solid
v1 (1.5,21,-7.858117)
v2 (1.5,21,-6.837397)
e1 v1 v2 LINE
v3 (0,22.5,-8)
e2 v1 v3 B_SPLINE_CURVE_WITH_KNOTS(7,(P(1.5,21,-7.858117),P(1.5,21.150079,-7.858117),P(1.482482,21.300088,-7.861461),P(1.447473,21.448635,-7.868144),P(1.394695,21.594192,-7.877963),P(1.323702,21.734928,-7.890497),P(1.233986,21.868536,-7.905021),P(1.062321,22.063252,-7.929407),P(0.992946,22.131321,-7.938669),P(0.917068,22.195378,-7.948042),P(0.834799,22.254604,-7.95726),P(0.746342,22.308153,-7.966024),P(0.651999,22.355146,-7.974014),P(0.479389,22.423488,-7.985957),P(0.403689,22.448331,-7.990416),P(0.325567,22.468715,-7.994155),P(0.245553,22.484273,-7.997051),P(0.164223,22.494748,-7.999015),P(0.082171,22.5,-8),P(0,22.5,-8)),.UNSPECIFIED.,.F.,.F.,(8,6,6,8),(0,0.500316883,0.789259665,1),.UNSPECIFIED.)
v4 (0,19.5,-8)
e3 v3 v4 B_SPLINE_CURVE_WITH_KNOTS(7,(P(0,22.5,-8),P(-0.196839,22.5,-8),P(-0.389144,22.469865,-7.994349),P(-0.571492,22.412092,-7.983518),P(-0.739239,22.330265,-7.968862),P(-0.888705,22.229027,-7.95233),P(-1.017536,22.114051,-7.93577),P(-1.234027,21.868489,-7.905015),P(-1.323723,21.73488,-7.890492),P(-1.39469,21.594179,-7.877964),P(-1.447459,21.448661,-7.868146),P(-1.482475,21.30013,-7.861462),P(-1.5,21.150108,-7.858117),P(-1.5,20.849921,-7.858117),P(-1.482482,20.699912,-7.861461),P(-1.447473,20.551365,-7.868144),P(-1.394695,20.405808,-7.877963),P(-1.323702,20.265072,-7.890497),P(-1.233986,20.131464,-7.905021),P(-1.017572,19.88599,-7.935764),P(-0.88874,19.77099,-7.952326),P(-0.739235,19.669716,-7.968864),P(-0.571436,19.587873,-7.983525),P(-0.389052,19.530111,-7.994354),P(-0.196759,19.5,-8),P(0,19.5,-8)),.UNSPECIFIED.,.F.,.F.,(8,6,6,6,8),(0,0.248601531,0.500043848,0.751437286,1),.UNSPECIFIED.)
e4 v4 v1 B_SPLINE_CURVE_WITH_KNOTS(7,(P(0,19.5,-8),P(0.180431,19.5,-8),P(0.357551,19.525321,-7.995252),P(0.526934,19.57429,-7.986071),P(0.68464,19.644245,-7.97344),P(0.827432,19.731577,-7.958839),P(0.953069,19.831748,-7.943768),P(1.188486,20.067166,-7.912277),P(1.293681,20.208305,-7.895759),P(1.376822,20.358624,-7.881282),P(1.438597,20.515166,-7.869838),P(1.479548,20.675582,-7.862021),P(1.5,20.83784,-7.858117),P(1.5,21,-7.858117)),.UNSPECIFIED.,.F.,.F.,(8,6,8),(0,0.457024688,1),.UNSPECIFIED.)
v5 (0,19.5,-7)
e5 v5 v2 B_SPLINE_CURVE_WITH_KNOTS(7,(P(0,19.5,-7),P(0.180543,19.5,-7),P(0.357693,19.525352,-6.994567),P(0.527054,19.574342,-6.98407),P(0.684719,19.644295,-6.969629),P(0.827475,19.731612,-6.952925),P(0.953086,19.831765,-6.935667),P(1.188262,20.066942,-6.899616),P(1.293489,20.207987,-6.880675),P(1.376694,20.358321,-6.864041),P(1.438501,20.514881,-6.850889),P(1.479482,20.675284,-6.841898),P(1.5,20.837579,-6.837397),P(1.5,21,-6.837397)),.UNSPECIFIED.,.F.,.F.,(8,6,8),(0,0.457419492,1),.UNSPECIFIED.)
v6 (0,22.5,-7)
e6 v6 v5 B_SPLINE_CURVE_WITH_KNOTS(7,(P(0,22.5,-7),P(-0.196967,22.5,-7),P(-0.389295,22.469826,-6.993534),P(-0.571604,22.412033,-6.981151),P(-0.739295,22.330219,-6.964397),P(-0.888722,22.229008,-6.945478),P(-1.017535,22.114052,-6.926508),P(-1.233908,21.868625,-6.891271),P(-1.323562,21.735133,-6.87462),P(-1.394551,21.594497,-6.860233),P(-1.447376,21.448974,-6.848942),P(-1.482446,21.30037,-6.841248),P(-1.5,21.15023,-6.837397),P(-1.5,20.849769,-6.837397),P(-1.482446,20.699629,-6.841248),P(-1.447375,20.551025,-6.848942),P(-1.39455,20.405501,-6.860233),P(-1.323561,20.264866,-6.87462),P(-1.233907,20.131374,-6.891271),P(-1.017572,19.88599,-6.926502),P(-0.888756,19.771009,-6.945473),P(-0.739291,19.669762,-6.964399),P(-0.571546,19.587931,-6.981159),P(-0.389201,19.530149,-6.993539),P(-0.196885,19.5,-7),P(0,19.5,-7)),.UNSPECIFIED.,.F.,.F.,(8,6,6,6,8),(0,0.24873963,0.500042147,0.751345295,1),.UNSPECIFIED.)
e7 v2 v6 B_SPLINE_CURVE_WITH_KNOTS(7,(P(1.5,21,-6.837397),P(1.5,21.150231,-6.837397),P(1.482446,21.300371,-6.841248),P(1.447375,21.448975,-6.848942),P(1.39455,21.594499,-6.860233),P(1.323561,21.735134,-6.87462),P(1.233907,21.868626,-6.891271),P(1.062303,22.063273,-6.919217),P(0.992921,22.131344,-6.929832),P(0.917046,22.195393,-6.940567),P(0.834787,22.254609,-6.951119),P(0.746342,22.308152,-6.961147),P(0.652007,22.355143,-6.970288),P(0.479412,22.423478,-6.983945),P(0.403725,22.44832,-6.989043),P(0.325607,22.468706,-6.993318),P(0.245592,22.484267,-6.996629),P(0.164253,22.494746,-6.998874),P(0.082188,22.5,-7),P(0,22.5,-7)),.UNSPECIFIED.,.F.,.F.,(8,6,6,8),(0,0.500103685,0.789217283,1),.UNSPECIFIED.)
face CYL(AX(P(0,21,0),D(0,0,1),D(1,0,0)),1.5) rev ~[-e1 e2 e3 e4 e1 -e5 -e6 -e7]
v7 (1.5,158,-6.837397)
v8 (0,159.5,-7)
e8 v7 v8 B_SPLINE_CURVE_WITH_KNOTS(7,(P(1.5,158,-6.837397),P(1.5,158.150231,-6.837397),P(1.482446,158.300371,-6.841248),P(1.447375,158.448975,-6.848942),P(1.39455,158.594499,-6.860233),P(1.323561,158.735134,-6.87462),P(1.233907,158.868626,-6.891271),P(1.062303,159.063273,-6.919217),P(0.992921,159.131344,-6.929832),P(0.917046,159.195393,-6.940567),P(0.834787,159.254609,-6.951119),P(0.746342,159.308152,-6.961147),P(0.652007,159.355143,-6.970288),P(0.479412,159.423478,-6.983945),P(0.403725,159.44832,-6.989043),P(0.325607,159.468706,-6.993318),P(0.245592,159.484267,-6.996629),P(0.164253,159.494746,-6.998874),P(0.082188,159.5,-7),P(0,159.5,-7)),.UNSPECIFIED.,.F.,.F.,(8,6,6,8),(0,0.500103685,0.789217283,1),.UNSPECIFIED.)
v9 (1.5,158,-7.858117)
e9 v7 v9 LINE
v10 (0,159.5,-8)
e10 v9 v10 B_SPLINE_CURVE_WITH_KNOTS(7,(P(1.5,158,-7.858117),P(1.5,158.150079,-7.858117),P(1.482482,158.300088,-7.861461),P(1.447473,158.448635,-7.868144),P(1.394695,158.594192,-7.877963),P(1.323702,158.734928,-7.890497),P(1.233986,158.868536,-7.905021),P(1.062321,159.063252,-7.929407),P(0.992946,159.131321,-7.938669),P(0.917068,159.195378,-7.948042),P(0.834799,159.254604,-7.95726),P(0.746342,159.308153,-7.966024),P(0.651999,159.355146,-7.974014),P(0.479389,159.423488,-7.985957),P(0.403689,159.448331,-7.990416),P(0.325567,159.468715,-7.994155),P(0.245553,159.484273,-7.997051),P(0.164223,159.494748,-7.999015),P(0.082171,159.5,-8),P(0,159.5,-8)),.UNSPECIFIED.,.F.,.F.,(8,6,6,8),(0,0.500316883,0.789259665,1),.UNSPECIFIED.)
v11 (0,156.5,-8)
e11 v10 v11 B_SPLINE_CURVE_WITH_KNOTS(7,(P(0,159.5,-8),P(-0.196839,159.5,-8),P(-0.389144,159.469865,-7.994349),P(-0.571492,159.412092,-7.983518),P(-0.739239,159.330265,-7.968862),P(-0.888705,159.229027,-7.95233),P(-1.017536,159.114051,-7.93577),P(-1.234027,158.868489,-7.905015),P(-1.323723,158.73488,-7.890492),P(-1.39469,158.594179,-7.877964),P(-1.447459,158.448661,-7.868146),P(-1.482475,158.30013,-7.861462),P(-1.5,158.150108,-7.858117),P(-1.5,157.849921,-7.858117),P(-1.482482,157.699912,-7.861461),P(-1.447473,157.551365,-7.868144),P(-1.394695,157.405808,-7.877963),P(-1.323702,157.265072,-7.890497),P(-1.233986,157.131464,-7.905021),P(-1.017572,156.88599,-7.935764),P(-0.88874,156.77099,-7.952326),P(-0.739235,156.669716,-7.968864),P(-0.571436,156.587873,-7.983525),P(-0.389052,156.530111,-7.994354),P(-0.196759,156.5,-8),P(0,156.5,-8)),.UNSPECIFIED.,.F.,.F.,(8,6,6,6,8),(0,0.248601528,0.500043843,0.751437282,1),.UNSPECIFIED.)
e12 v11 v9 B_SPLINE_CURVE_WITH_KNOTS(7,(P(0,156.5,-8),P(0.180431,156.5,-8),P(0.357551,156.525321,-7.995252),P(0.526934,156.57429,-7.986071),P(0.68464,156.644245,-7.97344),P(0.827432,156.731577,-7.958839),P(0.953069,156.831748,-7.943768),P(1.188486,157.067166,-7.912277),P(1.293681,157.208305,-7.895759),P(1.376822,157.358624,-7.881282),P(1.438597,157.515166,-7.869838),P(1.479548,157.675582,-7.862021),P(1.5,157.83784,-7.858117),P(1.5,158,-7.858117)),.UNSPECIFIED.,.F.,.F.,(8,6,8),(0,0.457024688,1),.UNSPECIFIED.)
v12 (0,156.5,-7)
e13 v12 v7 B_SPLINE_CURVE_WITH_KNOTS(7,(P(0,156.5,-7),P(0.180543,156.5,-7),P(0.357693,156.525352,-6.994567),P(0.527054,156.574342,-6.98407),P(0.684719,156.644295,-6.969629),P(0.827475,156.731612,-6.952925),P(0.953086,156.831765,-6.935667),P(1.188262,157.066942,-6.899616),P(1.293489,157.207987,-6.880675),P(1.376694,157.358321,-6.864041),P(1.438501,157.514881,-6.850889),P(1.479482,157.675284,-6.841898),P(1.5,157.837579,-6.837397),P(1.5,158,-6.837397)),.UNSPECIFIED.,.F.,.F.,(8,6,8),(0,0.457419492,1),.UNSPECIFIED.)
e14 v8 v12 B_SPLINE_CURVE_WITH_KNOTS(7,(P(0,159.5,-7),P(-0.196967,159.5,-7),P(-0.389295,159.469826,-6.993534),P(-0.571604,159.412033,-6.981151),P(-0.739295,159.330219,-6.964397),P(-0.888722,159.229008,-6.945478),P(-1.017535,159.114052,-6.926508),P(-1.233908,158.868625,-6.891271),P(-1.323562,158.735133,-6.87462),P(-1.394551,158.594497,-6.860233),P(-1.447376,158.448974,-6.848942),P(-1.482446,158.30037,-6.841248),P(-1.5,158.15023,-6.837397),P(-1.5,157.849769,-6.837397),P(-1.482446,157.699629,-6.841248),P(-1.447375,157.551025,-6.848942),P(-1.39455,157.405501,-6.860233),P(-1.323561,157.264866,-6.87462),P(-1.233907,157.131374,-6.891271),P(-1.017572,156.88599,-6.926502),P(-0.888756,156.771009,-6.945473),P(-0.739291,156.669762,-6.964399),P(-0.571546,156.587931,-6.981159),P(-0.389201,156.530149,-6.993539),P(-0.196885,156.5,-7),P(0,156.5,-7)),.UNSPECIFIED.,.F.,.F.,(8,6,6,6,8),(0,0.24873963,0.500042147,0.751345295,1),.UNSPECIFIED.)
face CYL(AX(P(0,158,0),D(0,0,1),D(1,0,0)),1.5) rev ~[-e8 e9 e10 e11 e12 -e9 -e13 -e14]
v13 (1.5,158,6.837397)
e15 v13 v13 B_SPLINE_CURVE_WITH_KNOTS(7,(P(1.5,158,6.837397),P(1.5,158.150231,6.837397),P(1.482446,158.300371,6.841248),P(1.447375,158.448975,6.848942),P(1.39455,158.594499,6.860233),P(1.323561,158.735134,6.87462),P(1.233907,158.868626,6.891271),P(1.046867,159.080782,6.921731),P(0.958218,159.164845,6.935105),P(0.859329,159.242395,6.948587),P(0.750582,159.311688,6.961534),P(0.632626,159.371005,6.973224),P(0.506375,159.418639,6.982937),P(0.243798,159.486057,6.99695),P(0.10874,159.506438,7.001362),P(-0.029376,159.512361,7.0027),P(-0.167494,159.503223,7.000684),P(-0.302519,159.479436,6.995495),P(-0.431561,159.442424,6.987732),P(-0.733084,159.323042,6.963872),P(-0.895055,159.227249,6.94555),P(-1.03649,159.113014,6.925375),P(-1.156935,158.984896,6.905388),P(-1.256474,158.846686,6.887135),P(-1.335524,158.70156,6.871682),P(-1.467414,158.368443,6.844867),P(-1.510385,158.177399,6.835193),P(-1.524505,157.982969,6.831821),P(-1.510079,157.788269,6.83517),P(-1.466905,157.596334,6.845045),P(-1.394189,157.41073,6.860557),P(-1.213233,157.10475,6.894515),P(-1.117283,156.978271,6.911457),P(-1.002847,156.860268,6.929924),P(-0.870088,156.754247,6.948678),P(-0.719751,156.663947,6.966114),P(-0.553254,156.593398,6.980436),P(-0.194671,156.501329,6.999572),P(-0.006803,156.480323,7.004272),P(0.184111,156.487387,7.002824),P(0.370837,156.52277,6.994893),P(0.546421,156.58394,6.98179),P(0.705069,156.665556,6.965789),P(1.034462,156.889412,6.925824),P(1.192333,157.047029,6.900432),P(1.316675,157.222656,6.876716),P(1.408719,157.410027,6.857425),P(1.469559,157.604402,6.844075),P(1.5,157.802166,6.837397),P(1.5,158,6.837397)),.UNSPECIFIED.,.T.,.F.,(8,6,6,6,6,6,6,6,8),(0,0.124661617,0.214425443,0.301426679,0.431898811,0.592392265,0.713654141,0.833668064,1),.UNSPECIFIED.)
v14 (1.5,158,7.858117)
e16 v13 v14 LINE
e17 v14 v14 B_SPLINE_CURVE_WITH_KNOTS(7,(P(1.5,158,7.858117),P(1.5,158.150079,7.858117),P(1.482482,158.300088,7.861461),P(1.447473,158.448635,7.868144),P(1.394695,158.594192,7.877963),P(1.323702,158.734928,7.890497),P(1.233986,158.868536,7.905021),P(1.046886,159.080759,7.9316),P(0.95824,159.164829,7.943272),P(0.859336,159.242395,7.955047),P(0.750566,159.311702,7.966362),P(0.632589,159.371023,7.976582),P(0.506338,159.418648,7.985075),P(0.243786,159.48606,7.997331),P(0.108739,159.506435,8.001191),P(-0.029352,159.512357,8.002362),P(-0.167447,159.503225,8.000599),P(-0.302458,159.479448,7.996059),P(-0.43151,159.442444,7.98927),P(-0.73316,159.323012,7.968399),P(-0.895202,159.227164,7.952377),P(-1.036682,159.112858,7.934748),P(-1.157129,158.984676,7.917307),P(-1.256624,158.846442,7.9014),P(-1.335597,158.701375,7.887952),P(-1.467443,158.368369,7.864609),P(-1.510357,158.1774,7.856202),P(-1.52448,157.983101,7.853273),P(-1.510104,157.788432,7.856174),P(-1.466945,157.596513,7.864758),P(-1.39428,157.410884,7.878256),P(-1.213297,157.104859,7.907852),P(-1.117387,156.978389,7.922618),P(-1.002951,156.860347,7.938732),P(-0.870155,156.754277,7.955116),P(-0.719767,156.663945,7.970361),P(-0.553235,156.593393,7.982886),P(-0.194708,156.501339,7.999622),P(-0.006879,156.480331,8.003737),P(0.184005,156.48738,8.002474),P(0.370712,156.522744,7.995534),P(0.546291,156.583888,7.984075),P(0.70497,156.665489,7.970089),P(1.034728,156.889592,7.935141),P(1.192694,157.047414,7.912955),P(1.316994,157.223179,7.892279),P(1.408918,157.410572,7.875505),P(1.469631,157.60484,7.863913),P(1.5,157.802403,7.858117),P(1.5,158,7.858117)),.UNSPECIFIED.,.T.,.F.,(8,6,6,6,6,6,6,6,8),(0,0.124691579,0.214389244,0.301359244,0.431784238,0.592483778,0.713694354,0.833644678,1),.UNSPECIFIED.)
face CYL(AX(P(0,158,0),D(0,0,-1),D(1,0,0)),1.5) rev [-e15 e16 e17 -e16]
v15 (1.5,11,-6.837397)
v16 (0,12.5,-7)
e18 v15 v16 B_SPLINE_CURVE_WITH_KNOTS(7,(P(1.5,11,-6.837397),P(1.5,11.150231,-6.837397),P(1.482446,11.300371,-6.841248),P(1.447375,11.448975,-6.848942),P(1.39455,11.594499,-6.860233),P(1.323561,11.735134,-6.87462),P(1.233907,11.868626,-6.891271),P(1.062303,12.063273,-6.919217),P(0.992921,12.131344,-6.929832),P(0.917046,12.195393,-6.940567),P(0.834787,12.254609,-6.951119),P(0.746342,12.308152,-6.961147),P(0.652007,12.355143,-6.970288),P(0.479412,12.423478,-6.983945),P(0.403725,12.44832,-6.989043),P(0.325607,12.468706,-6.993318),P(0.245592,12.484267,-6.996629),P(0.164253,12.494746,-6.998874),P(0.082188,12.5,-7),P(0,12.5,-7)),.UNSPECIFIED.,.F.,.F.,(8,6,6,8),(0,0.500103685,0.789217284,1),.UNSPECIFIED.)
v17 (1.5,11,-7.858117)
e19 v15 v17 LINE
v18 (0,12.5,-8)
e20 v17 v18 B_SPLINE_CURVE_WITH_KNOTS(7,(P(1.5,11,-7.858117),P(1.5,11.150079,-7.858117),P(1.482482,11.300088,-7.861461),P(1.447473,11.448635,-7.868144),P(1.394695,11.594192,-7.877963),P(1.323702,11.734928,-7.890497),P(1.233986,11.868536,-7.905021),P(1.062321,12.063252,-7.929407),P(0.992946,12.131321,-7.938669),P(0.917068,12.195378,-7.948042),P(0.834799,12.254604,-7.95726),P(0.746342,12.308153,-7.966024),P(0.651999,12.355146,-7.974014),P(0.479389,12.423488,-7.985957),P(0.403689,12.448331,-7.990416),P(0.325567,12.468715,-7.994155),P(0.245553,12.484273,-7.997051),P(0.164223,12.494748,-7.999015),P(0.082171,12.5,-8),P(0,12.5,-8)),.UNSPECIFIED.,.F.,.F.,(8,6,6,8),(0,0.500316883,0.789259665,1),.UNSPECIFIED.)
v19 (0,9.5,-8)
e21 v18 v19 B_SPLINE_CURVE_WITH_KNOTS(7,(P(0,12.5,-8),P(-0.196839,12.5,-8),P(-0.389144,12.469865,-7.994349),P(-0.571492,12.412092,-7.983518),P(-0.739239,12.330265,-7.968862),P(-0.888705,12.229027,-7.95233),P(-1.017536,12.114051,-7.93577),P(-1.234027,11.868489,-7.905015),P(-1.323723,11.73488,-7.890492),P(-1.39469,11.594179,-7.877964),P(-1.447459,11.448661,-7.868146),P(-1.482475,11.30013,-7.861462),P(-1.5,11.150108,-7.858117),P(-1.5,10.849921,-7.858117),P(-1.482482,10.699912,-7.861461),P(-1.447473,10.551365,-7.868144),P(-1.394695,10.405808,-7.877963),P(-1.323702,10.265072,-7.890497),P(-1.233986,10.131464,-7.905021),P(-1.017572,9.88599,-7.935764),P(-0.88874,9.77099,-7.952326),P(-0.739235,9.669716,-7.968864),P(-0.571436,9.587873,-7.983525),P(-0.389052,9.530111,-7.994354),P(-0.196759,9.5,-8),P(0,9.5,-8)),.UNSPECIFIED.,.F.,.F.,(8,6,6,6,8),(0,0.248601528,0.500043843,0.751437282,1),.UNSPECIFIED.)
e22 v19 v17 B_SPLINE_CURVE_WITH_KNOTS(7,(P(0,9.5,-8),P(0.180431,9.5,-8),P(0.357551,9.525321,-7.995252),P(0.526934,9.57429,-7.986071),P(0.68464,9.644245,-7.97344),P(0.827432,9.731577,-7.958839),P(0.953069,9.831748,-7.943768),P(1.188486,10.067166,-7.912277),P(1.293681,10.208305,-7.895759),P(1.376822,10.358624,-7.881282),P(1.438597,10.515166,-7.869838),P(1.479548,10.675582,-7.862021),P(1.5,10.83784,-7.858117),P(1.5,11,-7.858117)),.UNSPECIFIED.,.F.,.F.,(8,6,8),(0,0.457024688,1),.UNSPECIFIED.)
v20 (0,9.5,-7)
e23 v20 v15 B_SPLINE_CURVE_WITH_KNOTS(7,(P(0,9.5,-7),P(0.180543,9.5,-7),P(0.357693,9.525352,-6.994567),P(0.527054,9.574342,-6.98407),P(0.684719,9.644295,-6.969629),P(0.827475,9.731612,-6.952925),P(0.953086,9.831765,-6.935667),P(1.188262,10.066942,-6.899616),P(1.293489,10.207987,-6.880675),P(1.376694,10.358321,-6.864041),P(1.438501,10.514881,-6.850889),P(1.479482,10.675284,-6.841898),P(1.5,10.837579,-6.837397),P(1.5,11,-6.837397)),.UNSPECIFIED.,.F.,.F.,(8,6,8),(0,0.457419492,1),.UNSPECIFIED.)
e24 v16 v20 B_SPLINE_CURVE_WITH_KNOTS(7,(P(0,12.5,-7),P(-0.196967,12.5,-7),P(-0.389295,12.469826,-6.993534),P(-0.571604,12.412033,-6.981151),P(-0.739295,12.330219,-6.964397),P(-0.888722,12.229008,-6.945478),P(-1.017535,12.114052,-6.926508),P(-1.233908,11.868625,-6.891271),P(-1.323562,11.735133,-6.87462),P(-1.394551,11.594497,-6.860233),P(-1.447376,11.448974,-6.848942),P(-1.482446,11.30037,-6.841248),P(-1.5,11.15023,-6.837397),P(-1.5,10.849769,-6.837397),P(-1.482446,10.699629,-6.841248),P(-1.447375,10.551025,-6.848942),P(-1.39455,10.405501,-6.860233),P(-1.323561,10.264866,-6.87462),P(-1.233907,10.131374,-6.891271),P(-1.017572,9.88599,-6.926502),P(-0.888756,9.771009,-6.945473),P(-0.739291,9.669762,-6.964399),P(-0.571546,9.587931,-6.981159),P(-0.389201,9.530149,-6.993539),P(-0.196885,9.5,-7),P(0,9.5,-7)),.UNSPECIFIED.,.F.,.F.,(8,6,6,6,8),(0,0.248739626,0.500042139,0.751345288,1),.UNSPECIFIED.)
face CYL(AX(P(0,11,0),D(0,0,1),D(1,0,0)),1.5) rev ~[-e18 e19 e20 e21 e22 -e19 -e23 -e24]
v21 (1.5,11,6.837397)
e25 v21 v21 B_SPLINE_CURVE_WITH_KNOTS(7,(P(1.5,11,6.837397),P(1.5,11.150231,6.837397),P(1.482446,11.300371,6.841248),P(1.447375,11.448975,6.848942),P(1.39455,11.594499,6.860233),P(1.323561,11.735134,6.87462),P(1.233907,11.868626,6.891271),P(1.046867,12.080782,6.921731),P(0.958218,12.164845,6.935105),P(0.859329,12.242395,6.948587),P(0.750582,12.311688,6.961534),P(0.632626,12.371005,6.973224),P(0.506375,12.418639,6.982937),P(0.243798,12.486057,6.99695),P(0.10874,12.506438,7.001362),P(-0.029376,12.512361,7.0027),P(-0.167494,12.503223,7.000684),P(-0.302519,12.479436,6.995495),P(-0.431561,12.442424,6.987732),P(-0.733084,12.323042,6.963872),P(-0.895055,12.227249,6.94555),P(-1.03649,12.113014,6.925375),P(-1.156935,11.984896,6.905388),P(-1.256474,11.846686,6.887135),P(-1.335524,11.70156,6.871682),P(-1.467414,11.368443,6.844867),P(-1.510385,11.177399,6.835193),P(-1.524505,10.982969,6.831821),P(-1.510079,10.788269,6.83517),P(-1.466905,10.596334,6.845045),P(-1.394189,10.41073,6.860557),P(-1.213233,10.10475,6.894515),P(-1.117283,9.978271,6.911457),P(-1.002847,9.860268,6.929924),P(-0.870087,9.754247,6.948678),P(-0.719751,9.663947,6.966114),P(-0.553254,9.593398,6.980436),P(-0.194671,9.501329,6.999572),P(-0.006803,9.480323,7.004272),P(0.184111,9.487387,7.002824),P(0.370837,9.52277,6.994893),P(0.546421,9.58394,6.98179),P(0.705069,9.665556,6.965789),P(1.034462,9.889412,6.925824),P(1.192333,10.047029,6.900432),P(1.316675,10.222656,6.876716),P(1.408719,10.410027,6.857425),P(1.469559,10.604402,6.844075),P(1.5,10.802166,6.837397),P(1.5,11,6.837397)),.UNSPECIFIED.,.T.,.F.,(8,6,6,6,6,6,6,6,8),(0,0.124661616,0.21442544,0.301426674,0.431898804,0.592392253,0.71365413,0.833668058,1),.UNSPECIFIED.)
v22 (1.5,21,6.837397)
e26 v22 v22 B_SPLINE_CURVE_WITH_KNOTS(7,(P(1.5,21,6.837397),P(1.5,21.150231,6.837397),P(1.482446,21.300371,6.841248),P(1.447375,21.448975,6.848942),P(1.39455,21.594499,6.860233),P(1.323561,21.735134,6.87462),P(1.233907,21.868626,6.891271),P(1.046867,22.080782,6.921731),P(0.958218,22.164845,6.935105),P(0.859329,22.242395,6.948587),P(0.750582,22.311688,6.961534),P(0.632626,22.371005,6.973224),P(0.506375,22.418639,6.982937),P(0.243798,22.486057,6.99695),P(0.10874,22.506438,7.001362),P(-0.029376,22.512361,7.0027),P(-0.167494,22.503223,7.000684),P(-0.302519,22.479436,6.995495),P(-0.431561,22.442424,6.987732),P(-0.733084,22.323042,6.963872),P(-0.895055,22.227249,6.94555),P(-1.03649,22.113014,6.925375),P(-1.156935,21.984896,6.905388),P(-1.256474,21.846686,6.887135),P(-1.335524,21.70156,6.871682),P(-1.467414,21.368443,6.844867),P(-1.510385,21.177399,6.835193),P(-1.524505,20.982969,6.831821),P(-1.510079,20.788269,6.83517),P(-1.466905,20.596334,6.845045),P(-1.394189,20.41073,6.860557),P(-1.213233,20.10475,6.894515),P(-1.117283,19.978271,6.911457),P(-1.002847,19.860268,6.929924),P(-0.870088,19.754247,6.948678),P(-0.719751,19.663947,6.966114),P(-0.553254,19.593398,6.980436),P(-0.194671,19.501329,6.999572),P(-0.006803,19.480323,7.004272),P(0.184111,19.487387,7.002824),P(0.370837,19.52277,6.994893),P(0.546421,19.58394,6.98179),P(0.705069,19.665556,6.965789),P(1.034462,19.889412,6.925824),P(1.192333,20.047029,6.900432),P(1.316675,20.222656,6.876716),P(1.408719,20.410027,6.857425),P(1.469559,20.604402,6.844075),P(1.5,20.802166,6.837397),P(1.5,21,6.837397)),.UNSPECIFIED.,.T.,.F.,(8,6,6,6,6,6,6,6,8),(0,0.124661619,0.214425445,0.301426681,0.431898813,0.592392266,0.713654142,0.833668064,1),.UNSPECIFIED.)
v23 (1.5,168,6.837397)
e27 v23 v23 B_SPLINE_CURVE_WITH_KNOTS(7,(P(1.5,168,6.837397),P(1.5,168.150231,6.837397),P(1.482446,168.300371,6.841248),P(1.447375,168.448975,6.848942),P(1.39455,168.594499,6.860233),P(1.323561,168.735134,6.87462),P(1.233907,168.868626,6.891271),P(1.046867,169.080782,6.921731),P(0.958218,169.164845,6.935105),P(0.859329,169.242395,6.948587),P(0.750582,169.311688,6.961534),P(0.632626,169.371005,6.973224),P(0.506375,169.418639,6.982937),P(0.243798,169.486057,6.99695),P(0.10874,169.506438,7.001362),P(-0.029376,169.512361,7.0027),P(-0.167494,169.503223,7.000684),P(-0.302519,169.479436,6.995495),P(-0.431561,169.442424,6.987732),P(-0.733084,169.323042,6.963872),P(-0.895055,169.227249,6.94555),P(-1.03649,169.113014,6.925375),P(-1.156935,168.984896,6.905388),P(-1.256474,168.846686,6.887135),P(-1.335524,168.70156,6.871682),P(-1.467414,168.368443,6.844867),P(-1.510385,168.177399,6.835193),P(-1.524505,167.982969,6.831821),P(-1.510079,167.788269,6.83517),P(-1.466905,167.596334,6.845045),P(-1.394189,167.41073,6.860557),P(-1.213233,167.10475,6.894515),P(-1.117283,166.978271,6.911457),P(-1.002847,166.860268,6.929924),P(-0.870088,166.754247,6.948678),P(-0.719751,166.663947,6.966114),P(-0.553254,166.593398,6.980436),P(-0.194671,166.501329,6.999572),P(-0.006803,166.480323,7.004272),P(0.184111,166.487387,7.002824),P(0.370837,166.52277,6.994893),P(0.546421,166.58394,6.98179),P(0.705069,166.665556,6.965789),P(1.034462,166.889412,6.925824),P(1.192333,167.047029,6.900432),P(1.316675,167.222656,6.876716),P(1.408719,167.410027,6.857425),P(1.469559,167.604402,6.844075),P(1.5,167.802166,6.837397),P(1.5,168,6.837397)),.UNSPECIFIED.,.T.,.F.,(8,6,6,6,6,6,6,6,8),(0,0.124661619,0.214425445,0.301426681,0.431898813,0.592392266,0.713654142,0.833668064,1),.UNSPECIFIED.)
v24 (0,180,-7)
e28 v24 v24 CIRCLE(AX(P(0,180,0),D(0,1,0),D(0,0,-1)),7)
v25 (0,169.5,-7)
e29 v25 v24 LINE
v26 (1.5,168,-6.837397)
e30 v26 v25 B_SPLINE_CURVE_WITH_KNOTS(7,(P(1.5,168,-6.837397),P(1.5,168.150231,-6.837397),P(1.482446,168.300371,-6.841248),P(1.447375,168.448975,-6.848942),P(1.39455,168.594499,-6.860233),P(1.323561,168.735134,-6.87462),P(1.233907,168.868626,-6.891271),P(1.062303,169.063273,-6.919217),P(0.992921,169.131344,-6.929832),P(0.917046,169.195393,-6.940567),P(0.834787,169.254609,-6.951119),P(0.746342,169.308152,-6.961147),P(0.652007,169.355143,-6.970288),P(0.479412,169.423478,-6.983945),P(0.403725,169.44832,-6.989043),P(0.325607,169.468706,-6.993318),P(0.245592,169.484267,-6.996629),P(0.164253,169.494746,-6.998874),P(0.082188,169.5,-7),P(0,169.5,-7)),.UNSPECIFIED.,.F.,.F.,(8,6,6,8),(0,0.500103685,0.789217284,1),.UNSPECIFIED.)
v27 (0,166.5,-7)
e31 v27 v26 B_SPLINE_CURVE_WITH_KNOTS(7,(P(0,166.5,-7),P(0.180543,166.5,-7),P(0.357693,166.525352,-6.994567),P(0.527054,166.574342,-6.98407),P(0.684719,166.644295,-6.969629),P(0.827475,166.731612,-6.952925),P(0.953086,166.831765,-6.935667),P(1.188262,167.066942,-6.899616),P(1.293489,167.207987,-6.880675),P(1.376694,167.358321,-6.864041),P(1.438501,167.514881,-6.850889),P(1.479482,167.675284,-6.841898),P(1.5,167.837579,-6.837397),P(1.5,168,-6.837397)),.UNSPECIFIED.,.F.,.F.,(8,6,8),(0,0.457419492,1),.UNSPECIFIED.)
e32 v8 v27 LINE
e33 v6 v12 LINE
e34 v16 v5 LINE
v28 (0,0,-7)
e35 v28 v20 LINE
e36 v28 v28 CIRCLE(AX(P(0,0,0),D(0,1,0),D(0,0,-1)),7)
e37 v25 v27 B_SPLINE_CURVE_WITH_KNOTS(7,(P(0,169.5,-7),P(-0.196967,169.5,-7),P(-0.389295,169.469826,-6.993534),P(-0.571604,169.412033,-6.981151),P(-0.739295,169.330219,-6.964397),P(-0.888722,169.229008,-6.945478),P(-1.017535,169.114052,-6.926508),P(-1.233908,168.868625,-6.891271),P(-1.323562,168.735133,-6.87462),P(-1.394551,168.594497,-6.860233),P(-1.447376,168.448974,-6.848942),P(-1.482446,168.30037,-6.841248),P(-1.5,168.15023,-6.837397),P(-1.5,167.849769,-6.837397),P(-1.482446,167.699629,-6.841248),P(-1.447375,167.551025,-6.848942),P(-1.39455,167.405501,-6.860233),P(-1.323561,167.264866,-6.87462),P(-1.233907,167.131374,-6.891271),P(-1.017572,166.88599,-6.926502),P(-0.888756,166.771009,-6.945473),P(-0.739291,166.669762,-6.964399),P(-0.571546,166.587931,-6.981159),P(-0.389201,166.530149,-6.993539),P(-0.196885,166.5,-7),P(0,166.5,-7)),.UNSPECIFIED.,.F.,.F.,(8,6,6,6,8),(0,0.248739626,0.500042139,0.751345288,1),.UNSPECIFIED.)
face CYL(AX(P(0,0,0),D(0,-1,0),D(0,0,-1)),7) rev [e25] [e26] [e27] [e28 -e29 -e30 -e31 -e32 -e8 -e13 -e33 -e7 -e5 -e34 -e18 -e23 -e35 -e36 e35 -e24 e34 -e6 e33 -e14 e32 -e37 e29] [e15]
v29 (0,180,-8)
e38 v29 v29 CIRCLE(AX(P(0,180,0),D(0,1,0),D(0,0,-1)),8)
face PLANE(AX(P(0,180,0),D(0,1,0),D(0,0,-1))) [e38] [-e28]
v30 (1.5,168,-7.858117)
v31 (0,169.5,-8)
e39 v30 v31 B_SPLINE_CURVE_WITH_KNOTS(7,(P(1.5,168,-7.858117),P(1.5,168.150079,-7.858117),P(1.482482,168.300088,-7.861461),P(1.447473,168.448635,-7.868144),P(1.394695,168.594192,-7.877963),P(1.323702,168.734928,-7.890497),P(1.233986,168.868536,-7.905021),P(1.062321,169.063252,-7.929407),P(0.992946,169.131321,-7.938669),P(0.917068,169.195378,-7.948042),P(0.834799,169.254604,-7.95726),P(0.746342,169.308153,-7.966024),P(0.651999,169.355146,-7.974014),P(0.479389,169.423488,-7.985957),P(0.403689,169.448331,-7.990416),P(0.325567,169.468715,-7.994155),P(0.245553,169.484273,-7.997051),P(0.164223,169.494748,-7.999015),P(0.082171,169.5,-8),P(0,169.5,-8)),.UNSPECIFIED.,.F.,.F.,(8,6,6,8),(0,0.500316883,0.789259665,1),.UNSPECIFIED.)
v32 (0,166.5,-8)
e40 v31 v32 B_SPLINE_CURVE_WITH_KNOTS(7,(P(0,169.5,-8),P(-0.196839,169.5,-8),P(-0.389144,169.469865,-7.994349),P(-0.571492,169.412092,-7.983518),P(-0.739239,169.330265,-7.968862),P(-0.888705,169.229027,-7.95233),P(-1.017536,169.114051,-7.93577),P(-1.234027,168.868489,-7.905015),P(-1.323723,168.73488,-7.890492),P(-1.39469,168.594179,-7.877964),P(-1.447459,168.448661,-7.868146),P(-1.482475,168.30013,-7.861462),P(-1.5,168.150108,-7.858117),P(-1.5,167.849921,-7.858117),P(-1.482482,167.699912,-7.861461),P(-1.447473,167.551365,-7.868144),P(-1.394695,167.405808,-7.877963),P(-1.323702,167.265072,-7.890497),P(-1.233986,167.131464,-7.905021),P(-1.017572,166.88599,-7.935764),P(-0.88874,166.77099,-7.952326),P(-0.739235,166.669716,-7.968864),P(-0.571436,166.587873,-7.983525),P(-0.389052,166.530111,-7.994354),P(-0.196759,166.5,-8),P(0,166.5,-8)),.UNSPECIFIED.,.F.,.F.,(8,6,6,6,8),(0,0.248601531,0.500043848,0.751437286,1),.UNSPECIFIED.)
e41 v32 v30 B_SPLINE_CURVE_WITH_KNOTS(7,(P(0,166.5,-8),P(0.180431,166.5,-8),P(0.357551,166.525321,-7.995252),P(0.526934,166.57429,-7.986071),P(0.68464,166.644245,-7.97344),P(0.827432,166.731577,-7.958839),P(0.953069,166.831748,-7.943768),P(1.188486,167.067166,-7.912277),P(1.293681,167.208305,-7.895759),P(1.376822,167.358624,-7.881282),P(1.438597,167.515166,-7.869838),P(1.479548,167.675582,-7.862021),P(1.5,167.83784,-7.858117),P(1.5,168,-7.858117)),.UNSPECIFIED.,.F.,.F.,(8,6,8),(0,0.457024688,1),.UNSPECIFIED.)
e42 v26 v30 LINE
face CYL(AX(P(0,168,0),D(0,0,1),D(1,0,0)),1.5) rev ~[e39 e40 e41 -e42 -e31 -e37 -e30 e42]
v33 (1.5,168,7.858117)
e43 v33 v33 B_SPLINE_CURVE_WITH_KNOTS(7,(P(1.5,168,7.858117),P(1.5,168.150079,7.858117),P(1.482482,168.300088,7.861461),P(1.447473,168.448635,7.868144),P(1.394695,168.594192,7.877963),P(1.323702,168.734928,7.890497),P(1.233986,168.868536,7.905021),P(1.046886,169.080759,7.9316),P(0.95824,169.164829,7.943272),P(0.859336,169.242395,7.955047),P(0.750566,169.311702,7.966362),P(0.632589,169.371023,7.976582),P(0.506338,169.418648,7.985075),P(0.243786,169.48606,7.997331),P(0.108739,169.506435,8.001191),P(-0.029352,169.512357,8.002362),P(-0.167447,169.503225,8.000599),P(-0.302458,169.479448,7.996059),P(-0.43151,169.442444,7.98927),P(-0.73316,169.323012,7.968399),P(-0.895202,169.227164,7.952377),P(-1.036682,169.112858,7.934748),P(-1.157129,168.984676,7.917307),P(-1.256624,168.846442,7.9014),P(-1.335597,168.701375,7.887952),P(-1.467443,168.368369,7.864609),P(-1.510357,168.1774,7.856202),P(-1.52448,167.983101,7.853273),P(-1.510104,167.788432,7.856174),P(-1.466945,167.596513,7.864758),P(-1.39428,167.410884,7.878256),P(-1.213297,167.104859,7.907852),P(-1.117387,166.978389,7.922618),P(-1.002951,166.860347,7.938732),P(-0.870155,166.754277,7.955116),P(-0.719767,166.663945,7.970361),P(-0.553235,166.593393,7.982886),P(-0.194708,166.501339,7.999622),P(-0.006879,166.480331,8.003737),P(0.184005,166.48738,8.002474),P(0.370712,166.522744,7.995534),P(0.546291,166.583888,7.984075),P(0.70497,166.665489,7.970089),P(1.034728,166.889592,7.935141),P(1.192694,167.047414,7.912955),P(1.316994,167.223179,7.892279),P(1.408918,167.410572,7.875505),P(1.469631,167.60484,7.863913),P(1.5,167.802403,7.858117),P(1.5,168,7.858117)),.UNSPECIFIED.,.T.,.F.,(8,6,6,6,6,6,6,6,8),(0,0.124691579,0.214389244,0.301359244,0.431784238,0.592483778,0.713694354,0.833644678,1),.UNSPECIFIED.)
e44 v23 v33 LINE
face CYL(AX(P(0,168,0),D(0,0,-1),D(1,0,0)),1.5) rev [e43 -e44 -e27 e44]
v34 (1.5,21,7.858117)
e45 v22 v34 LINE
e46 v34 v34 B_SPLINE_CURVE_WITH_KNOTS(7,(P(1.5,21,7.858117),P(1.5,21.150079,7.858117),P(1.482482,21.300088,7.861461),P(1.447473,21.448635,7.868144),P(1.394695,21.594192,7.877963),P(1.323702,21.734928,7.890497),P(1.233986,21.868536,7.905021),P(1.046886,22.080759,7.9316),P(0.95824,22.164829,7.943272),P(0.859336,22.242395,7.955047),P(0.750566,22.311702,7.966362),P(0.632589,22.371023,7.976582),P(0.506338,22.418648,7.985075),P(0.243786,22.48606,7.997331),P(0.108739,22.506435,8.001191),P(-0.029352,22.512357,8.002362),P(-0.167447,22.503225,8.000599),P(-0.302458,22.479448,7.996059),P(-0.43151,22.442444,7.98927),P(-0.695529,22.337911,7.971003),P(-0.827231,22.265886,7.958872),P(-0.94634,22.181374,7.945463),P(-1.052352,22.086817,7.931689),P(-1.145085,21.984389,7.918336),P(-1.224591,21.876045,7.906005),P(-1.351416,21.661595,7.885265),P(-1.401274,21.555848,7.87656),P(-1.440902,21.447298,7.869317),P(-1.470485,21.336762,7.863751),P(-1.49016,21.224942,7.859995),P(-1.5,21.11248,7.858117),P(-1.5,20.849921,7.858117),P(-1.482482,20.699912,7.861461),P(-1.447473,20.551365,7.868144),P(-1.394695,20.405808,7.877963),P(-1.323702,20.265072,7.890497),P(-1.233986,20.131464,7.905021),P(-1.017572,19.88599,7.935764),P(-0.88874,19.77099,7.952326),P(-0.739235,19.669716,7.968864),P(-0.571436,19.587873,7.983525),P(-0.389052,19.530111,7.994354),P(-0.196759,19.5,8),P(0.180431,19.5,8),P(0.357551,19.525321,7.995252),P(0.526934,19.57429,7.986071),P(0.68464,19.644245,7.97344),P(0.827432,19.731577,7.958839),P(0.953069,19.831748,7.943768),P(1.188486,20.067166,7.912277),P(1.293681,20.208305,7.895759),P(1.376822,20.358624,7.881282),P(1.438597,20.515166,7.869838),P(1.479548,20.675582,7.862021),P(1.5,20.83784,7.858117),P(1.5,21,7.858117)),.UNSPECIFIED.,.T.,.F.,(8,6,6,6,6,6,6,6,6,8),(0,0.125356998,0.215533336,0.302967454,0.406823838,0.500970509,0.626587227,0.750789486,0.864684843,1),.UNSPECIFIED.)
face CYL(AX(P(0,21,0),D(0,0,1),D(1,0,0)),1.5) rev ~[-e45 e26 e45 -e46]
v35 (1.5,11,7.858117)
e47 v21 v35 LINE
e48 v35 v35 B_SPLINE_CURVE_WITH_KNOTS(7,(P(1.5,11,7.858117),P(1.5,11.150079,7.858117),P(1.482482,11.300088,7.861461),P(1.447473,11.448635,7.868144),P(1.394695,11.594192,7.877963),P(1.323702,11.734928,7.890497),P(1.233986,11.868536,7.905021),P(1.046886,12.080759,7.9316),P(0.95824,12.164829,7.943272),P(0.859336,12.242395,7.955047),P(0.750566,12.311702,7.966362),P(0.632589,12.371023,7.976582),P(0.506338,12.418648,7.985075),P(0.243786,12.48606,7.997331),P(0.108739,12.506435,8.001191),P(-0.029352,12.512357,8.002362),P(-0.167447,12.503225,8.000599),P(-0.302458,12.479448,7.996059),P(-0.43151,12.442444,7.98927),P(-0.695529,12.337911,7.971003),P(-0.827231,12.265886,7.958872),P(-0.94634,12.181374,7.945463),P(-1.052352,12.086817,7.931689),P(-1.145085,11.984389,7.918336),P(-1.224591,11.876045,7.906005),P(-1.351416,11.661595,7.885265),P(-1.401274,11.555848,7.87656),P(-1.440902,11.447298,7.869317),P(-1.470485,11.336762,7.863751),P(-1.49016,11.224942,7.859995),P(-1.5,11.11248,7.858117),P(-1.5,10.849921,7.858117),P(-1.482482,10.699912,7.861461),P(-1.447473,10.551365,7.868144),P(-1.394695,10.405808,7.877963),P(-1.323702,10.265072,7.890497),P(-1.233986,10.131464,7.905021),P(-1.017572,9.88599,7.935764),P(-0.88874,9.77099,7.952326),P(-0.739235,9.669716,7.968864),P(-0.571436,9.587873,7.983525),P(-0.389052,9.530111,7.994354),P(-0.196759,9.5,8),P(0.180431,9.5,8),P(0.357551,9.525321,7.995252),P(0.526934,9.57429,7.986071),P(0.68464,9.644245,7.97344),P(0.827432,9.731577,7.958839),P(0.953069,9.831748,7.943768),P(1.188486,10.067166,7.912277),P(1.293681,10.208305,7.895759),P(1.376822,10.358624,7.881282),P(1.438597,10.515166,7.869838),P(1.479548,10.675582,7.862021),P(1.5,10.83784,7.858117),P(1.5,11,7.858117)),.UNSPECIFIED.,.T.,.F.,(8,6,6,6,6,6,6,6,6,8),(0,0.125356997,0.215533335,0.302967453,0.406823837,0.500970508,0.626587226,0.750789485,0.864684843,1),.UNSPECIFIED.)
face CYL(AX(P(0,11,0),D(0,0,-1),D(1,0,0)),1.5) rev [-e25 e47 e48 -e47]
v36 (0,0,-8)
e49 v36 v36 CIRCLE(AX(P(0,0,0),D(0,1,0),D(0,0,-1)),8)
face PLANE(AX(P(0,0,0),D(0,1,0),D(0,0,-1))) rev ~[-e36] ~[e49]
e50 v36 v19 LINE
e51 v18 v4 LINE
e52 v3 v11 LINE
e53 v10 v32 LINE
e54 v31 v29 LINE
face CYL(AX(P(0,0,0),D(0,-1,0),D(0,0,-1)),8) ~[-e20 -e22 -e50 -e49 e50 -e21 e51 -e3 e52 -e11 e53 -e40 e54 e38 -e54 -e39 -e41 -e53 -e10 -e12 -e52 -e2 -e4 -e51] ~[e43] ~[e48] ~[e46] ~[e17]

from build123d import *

# Parameters (mm, degrees)
IZIM1_R                     = 8
IZIM1_R_2                   = 7
Y_KSEKLIK_EKSTR_ZYON1_DEPTH = 180
IZIM2_R                     = 1.5
KES_EKSTR_ZYON1_DEPTH       = 10


with BuildPart() as part:
    # Çizim1 → Yükseklik-Ekstrüzyon1 (new body)
    with BuildSketch(Plane(origin=(0, 0, 0), x_dir=(1, 0, 0), z_dir=(0, 1, 0))):
        with Locations(Location((0, 0, 0), (0, 0, 90))):
            Circle(IZIM1_R)
        with Locations(Location((0, 0, 0), (0, 0, 90))):
            Circle(IZIM1_R_2, mode=Mode.SUBTRACT)
    extrude(amount=Y_KSEKLIK_EKSTR_ZYON1_DEPTH)

    # Çizim2 → Kes-Ekstrüzyon1 (cut, symmetric)
    with BuildSketch(Plane.XY):
        with Locations((0, 11)):
            Circle(IZIM2_R)
        with Locations((0, 168)):
            Circle(IZIM2_R)
        with Locations((0, 158)):
            Circle(IZIM2_R)
        with Locations((0, 21)):
            Circle(IZIM2_R)
    extrude(amount=KES_EKSTR_ZYON1_DEPTH, both=True, mode=Mode.SUBTRACT)


solid = part.part
